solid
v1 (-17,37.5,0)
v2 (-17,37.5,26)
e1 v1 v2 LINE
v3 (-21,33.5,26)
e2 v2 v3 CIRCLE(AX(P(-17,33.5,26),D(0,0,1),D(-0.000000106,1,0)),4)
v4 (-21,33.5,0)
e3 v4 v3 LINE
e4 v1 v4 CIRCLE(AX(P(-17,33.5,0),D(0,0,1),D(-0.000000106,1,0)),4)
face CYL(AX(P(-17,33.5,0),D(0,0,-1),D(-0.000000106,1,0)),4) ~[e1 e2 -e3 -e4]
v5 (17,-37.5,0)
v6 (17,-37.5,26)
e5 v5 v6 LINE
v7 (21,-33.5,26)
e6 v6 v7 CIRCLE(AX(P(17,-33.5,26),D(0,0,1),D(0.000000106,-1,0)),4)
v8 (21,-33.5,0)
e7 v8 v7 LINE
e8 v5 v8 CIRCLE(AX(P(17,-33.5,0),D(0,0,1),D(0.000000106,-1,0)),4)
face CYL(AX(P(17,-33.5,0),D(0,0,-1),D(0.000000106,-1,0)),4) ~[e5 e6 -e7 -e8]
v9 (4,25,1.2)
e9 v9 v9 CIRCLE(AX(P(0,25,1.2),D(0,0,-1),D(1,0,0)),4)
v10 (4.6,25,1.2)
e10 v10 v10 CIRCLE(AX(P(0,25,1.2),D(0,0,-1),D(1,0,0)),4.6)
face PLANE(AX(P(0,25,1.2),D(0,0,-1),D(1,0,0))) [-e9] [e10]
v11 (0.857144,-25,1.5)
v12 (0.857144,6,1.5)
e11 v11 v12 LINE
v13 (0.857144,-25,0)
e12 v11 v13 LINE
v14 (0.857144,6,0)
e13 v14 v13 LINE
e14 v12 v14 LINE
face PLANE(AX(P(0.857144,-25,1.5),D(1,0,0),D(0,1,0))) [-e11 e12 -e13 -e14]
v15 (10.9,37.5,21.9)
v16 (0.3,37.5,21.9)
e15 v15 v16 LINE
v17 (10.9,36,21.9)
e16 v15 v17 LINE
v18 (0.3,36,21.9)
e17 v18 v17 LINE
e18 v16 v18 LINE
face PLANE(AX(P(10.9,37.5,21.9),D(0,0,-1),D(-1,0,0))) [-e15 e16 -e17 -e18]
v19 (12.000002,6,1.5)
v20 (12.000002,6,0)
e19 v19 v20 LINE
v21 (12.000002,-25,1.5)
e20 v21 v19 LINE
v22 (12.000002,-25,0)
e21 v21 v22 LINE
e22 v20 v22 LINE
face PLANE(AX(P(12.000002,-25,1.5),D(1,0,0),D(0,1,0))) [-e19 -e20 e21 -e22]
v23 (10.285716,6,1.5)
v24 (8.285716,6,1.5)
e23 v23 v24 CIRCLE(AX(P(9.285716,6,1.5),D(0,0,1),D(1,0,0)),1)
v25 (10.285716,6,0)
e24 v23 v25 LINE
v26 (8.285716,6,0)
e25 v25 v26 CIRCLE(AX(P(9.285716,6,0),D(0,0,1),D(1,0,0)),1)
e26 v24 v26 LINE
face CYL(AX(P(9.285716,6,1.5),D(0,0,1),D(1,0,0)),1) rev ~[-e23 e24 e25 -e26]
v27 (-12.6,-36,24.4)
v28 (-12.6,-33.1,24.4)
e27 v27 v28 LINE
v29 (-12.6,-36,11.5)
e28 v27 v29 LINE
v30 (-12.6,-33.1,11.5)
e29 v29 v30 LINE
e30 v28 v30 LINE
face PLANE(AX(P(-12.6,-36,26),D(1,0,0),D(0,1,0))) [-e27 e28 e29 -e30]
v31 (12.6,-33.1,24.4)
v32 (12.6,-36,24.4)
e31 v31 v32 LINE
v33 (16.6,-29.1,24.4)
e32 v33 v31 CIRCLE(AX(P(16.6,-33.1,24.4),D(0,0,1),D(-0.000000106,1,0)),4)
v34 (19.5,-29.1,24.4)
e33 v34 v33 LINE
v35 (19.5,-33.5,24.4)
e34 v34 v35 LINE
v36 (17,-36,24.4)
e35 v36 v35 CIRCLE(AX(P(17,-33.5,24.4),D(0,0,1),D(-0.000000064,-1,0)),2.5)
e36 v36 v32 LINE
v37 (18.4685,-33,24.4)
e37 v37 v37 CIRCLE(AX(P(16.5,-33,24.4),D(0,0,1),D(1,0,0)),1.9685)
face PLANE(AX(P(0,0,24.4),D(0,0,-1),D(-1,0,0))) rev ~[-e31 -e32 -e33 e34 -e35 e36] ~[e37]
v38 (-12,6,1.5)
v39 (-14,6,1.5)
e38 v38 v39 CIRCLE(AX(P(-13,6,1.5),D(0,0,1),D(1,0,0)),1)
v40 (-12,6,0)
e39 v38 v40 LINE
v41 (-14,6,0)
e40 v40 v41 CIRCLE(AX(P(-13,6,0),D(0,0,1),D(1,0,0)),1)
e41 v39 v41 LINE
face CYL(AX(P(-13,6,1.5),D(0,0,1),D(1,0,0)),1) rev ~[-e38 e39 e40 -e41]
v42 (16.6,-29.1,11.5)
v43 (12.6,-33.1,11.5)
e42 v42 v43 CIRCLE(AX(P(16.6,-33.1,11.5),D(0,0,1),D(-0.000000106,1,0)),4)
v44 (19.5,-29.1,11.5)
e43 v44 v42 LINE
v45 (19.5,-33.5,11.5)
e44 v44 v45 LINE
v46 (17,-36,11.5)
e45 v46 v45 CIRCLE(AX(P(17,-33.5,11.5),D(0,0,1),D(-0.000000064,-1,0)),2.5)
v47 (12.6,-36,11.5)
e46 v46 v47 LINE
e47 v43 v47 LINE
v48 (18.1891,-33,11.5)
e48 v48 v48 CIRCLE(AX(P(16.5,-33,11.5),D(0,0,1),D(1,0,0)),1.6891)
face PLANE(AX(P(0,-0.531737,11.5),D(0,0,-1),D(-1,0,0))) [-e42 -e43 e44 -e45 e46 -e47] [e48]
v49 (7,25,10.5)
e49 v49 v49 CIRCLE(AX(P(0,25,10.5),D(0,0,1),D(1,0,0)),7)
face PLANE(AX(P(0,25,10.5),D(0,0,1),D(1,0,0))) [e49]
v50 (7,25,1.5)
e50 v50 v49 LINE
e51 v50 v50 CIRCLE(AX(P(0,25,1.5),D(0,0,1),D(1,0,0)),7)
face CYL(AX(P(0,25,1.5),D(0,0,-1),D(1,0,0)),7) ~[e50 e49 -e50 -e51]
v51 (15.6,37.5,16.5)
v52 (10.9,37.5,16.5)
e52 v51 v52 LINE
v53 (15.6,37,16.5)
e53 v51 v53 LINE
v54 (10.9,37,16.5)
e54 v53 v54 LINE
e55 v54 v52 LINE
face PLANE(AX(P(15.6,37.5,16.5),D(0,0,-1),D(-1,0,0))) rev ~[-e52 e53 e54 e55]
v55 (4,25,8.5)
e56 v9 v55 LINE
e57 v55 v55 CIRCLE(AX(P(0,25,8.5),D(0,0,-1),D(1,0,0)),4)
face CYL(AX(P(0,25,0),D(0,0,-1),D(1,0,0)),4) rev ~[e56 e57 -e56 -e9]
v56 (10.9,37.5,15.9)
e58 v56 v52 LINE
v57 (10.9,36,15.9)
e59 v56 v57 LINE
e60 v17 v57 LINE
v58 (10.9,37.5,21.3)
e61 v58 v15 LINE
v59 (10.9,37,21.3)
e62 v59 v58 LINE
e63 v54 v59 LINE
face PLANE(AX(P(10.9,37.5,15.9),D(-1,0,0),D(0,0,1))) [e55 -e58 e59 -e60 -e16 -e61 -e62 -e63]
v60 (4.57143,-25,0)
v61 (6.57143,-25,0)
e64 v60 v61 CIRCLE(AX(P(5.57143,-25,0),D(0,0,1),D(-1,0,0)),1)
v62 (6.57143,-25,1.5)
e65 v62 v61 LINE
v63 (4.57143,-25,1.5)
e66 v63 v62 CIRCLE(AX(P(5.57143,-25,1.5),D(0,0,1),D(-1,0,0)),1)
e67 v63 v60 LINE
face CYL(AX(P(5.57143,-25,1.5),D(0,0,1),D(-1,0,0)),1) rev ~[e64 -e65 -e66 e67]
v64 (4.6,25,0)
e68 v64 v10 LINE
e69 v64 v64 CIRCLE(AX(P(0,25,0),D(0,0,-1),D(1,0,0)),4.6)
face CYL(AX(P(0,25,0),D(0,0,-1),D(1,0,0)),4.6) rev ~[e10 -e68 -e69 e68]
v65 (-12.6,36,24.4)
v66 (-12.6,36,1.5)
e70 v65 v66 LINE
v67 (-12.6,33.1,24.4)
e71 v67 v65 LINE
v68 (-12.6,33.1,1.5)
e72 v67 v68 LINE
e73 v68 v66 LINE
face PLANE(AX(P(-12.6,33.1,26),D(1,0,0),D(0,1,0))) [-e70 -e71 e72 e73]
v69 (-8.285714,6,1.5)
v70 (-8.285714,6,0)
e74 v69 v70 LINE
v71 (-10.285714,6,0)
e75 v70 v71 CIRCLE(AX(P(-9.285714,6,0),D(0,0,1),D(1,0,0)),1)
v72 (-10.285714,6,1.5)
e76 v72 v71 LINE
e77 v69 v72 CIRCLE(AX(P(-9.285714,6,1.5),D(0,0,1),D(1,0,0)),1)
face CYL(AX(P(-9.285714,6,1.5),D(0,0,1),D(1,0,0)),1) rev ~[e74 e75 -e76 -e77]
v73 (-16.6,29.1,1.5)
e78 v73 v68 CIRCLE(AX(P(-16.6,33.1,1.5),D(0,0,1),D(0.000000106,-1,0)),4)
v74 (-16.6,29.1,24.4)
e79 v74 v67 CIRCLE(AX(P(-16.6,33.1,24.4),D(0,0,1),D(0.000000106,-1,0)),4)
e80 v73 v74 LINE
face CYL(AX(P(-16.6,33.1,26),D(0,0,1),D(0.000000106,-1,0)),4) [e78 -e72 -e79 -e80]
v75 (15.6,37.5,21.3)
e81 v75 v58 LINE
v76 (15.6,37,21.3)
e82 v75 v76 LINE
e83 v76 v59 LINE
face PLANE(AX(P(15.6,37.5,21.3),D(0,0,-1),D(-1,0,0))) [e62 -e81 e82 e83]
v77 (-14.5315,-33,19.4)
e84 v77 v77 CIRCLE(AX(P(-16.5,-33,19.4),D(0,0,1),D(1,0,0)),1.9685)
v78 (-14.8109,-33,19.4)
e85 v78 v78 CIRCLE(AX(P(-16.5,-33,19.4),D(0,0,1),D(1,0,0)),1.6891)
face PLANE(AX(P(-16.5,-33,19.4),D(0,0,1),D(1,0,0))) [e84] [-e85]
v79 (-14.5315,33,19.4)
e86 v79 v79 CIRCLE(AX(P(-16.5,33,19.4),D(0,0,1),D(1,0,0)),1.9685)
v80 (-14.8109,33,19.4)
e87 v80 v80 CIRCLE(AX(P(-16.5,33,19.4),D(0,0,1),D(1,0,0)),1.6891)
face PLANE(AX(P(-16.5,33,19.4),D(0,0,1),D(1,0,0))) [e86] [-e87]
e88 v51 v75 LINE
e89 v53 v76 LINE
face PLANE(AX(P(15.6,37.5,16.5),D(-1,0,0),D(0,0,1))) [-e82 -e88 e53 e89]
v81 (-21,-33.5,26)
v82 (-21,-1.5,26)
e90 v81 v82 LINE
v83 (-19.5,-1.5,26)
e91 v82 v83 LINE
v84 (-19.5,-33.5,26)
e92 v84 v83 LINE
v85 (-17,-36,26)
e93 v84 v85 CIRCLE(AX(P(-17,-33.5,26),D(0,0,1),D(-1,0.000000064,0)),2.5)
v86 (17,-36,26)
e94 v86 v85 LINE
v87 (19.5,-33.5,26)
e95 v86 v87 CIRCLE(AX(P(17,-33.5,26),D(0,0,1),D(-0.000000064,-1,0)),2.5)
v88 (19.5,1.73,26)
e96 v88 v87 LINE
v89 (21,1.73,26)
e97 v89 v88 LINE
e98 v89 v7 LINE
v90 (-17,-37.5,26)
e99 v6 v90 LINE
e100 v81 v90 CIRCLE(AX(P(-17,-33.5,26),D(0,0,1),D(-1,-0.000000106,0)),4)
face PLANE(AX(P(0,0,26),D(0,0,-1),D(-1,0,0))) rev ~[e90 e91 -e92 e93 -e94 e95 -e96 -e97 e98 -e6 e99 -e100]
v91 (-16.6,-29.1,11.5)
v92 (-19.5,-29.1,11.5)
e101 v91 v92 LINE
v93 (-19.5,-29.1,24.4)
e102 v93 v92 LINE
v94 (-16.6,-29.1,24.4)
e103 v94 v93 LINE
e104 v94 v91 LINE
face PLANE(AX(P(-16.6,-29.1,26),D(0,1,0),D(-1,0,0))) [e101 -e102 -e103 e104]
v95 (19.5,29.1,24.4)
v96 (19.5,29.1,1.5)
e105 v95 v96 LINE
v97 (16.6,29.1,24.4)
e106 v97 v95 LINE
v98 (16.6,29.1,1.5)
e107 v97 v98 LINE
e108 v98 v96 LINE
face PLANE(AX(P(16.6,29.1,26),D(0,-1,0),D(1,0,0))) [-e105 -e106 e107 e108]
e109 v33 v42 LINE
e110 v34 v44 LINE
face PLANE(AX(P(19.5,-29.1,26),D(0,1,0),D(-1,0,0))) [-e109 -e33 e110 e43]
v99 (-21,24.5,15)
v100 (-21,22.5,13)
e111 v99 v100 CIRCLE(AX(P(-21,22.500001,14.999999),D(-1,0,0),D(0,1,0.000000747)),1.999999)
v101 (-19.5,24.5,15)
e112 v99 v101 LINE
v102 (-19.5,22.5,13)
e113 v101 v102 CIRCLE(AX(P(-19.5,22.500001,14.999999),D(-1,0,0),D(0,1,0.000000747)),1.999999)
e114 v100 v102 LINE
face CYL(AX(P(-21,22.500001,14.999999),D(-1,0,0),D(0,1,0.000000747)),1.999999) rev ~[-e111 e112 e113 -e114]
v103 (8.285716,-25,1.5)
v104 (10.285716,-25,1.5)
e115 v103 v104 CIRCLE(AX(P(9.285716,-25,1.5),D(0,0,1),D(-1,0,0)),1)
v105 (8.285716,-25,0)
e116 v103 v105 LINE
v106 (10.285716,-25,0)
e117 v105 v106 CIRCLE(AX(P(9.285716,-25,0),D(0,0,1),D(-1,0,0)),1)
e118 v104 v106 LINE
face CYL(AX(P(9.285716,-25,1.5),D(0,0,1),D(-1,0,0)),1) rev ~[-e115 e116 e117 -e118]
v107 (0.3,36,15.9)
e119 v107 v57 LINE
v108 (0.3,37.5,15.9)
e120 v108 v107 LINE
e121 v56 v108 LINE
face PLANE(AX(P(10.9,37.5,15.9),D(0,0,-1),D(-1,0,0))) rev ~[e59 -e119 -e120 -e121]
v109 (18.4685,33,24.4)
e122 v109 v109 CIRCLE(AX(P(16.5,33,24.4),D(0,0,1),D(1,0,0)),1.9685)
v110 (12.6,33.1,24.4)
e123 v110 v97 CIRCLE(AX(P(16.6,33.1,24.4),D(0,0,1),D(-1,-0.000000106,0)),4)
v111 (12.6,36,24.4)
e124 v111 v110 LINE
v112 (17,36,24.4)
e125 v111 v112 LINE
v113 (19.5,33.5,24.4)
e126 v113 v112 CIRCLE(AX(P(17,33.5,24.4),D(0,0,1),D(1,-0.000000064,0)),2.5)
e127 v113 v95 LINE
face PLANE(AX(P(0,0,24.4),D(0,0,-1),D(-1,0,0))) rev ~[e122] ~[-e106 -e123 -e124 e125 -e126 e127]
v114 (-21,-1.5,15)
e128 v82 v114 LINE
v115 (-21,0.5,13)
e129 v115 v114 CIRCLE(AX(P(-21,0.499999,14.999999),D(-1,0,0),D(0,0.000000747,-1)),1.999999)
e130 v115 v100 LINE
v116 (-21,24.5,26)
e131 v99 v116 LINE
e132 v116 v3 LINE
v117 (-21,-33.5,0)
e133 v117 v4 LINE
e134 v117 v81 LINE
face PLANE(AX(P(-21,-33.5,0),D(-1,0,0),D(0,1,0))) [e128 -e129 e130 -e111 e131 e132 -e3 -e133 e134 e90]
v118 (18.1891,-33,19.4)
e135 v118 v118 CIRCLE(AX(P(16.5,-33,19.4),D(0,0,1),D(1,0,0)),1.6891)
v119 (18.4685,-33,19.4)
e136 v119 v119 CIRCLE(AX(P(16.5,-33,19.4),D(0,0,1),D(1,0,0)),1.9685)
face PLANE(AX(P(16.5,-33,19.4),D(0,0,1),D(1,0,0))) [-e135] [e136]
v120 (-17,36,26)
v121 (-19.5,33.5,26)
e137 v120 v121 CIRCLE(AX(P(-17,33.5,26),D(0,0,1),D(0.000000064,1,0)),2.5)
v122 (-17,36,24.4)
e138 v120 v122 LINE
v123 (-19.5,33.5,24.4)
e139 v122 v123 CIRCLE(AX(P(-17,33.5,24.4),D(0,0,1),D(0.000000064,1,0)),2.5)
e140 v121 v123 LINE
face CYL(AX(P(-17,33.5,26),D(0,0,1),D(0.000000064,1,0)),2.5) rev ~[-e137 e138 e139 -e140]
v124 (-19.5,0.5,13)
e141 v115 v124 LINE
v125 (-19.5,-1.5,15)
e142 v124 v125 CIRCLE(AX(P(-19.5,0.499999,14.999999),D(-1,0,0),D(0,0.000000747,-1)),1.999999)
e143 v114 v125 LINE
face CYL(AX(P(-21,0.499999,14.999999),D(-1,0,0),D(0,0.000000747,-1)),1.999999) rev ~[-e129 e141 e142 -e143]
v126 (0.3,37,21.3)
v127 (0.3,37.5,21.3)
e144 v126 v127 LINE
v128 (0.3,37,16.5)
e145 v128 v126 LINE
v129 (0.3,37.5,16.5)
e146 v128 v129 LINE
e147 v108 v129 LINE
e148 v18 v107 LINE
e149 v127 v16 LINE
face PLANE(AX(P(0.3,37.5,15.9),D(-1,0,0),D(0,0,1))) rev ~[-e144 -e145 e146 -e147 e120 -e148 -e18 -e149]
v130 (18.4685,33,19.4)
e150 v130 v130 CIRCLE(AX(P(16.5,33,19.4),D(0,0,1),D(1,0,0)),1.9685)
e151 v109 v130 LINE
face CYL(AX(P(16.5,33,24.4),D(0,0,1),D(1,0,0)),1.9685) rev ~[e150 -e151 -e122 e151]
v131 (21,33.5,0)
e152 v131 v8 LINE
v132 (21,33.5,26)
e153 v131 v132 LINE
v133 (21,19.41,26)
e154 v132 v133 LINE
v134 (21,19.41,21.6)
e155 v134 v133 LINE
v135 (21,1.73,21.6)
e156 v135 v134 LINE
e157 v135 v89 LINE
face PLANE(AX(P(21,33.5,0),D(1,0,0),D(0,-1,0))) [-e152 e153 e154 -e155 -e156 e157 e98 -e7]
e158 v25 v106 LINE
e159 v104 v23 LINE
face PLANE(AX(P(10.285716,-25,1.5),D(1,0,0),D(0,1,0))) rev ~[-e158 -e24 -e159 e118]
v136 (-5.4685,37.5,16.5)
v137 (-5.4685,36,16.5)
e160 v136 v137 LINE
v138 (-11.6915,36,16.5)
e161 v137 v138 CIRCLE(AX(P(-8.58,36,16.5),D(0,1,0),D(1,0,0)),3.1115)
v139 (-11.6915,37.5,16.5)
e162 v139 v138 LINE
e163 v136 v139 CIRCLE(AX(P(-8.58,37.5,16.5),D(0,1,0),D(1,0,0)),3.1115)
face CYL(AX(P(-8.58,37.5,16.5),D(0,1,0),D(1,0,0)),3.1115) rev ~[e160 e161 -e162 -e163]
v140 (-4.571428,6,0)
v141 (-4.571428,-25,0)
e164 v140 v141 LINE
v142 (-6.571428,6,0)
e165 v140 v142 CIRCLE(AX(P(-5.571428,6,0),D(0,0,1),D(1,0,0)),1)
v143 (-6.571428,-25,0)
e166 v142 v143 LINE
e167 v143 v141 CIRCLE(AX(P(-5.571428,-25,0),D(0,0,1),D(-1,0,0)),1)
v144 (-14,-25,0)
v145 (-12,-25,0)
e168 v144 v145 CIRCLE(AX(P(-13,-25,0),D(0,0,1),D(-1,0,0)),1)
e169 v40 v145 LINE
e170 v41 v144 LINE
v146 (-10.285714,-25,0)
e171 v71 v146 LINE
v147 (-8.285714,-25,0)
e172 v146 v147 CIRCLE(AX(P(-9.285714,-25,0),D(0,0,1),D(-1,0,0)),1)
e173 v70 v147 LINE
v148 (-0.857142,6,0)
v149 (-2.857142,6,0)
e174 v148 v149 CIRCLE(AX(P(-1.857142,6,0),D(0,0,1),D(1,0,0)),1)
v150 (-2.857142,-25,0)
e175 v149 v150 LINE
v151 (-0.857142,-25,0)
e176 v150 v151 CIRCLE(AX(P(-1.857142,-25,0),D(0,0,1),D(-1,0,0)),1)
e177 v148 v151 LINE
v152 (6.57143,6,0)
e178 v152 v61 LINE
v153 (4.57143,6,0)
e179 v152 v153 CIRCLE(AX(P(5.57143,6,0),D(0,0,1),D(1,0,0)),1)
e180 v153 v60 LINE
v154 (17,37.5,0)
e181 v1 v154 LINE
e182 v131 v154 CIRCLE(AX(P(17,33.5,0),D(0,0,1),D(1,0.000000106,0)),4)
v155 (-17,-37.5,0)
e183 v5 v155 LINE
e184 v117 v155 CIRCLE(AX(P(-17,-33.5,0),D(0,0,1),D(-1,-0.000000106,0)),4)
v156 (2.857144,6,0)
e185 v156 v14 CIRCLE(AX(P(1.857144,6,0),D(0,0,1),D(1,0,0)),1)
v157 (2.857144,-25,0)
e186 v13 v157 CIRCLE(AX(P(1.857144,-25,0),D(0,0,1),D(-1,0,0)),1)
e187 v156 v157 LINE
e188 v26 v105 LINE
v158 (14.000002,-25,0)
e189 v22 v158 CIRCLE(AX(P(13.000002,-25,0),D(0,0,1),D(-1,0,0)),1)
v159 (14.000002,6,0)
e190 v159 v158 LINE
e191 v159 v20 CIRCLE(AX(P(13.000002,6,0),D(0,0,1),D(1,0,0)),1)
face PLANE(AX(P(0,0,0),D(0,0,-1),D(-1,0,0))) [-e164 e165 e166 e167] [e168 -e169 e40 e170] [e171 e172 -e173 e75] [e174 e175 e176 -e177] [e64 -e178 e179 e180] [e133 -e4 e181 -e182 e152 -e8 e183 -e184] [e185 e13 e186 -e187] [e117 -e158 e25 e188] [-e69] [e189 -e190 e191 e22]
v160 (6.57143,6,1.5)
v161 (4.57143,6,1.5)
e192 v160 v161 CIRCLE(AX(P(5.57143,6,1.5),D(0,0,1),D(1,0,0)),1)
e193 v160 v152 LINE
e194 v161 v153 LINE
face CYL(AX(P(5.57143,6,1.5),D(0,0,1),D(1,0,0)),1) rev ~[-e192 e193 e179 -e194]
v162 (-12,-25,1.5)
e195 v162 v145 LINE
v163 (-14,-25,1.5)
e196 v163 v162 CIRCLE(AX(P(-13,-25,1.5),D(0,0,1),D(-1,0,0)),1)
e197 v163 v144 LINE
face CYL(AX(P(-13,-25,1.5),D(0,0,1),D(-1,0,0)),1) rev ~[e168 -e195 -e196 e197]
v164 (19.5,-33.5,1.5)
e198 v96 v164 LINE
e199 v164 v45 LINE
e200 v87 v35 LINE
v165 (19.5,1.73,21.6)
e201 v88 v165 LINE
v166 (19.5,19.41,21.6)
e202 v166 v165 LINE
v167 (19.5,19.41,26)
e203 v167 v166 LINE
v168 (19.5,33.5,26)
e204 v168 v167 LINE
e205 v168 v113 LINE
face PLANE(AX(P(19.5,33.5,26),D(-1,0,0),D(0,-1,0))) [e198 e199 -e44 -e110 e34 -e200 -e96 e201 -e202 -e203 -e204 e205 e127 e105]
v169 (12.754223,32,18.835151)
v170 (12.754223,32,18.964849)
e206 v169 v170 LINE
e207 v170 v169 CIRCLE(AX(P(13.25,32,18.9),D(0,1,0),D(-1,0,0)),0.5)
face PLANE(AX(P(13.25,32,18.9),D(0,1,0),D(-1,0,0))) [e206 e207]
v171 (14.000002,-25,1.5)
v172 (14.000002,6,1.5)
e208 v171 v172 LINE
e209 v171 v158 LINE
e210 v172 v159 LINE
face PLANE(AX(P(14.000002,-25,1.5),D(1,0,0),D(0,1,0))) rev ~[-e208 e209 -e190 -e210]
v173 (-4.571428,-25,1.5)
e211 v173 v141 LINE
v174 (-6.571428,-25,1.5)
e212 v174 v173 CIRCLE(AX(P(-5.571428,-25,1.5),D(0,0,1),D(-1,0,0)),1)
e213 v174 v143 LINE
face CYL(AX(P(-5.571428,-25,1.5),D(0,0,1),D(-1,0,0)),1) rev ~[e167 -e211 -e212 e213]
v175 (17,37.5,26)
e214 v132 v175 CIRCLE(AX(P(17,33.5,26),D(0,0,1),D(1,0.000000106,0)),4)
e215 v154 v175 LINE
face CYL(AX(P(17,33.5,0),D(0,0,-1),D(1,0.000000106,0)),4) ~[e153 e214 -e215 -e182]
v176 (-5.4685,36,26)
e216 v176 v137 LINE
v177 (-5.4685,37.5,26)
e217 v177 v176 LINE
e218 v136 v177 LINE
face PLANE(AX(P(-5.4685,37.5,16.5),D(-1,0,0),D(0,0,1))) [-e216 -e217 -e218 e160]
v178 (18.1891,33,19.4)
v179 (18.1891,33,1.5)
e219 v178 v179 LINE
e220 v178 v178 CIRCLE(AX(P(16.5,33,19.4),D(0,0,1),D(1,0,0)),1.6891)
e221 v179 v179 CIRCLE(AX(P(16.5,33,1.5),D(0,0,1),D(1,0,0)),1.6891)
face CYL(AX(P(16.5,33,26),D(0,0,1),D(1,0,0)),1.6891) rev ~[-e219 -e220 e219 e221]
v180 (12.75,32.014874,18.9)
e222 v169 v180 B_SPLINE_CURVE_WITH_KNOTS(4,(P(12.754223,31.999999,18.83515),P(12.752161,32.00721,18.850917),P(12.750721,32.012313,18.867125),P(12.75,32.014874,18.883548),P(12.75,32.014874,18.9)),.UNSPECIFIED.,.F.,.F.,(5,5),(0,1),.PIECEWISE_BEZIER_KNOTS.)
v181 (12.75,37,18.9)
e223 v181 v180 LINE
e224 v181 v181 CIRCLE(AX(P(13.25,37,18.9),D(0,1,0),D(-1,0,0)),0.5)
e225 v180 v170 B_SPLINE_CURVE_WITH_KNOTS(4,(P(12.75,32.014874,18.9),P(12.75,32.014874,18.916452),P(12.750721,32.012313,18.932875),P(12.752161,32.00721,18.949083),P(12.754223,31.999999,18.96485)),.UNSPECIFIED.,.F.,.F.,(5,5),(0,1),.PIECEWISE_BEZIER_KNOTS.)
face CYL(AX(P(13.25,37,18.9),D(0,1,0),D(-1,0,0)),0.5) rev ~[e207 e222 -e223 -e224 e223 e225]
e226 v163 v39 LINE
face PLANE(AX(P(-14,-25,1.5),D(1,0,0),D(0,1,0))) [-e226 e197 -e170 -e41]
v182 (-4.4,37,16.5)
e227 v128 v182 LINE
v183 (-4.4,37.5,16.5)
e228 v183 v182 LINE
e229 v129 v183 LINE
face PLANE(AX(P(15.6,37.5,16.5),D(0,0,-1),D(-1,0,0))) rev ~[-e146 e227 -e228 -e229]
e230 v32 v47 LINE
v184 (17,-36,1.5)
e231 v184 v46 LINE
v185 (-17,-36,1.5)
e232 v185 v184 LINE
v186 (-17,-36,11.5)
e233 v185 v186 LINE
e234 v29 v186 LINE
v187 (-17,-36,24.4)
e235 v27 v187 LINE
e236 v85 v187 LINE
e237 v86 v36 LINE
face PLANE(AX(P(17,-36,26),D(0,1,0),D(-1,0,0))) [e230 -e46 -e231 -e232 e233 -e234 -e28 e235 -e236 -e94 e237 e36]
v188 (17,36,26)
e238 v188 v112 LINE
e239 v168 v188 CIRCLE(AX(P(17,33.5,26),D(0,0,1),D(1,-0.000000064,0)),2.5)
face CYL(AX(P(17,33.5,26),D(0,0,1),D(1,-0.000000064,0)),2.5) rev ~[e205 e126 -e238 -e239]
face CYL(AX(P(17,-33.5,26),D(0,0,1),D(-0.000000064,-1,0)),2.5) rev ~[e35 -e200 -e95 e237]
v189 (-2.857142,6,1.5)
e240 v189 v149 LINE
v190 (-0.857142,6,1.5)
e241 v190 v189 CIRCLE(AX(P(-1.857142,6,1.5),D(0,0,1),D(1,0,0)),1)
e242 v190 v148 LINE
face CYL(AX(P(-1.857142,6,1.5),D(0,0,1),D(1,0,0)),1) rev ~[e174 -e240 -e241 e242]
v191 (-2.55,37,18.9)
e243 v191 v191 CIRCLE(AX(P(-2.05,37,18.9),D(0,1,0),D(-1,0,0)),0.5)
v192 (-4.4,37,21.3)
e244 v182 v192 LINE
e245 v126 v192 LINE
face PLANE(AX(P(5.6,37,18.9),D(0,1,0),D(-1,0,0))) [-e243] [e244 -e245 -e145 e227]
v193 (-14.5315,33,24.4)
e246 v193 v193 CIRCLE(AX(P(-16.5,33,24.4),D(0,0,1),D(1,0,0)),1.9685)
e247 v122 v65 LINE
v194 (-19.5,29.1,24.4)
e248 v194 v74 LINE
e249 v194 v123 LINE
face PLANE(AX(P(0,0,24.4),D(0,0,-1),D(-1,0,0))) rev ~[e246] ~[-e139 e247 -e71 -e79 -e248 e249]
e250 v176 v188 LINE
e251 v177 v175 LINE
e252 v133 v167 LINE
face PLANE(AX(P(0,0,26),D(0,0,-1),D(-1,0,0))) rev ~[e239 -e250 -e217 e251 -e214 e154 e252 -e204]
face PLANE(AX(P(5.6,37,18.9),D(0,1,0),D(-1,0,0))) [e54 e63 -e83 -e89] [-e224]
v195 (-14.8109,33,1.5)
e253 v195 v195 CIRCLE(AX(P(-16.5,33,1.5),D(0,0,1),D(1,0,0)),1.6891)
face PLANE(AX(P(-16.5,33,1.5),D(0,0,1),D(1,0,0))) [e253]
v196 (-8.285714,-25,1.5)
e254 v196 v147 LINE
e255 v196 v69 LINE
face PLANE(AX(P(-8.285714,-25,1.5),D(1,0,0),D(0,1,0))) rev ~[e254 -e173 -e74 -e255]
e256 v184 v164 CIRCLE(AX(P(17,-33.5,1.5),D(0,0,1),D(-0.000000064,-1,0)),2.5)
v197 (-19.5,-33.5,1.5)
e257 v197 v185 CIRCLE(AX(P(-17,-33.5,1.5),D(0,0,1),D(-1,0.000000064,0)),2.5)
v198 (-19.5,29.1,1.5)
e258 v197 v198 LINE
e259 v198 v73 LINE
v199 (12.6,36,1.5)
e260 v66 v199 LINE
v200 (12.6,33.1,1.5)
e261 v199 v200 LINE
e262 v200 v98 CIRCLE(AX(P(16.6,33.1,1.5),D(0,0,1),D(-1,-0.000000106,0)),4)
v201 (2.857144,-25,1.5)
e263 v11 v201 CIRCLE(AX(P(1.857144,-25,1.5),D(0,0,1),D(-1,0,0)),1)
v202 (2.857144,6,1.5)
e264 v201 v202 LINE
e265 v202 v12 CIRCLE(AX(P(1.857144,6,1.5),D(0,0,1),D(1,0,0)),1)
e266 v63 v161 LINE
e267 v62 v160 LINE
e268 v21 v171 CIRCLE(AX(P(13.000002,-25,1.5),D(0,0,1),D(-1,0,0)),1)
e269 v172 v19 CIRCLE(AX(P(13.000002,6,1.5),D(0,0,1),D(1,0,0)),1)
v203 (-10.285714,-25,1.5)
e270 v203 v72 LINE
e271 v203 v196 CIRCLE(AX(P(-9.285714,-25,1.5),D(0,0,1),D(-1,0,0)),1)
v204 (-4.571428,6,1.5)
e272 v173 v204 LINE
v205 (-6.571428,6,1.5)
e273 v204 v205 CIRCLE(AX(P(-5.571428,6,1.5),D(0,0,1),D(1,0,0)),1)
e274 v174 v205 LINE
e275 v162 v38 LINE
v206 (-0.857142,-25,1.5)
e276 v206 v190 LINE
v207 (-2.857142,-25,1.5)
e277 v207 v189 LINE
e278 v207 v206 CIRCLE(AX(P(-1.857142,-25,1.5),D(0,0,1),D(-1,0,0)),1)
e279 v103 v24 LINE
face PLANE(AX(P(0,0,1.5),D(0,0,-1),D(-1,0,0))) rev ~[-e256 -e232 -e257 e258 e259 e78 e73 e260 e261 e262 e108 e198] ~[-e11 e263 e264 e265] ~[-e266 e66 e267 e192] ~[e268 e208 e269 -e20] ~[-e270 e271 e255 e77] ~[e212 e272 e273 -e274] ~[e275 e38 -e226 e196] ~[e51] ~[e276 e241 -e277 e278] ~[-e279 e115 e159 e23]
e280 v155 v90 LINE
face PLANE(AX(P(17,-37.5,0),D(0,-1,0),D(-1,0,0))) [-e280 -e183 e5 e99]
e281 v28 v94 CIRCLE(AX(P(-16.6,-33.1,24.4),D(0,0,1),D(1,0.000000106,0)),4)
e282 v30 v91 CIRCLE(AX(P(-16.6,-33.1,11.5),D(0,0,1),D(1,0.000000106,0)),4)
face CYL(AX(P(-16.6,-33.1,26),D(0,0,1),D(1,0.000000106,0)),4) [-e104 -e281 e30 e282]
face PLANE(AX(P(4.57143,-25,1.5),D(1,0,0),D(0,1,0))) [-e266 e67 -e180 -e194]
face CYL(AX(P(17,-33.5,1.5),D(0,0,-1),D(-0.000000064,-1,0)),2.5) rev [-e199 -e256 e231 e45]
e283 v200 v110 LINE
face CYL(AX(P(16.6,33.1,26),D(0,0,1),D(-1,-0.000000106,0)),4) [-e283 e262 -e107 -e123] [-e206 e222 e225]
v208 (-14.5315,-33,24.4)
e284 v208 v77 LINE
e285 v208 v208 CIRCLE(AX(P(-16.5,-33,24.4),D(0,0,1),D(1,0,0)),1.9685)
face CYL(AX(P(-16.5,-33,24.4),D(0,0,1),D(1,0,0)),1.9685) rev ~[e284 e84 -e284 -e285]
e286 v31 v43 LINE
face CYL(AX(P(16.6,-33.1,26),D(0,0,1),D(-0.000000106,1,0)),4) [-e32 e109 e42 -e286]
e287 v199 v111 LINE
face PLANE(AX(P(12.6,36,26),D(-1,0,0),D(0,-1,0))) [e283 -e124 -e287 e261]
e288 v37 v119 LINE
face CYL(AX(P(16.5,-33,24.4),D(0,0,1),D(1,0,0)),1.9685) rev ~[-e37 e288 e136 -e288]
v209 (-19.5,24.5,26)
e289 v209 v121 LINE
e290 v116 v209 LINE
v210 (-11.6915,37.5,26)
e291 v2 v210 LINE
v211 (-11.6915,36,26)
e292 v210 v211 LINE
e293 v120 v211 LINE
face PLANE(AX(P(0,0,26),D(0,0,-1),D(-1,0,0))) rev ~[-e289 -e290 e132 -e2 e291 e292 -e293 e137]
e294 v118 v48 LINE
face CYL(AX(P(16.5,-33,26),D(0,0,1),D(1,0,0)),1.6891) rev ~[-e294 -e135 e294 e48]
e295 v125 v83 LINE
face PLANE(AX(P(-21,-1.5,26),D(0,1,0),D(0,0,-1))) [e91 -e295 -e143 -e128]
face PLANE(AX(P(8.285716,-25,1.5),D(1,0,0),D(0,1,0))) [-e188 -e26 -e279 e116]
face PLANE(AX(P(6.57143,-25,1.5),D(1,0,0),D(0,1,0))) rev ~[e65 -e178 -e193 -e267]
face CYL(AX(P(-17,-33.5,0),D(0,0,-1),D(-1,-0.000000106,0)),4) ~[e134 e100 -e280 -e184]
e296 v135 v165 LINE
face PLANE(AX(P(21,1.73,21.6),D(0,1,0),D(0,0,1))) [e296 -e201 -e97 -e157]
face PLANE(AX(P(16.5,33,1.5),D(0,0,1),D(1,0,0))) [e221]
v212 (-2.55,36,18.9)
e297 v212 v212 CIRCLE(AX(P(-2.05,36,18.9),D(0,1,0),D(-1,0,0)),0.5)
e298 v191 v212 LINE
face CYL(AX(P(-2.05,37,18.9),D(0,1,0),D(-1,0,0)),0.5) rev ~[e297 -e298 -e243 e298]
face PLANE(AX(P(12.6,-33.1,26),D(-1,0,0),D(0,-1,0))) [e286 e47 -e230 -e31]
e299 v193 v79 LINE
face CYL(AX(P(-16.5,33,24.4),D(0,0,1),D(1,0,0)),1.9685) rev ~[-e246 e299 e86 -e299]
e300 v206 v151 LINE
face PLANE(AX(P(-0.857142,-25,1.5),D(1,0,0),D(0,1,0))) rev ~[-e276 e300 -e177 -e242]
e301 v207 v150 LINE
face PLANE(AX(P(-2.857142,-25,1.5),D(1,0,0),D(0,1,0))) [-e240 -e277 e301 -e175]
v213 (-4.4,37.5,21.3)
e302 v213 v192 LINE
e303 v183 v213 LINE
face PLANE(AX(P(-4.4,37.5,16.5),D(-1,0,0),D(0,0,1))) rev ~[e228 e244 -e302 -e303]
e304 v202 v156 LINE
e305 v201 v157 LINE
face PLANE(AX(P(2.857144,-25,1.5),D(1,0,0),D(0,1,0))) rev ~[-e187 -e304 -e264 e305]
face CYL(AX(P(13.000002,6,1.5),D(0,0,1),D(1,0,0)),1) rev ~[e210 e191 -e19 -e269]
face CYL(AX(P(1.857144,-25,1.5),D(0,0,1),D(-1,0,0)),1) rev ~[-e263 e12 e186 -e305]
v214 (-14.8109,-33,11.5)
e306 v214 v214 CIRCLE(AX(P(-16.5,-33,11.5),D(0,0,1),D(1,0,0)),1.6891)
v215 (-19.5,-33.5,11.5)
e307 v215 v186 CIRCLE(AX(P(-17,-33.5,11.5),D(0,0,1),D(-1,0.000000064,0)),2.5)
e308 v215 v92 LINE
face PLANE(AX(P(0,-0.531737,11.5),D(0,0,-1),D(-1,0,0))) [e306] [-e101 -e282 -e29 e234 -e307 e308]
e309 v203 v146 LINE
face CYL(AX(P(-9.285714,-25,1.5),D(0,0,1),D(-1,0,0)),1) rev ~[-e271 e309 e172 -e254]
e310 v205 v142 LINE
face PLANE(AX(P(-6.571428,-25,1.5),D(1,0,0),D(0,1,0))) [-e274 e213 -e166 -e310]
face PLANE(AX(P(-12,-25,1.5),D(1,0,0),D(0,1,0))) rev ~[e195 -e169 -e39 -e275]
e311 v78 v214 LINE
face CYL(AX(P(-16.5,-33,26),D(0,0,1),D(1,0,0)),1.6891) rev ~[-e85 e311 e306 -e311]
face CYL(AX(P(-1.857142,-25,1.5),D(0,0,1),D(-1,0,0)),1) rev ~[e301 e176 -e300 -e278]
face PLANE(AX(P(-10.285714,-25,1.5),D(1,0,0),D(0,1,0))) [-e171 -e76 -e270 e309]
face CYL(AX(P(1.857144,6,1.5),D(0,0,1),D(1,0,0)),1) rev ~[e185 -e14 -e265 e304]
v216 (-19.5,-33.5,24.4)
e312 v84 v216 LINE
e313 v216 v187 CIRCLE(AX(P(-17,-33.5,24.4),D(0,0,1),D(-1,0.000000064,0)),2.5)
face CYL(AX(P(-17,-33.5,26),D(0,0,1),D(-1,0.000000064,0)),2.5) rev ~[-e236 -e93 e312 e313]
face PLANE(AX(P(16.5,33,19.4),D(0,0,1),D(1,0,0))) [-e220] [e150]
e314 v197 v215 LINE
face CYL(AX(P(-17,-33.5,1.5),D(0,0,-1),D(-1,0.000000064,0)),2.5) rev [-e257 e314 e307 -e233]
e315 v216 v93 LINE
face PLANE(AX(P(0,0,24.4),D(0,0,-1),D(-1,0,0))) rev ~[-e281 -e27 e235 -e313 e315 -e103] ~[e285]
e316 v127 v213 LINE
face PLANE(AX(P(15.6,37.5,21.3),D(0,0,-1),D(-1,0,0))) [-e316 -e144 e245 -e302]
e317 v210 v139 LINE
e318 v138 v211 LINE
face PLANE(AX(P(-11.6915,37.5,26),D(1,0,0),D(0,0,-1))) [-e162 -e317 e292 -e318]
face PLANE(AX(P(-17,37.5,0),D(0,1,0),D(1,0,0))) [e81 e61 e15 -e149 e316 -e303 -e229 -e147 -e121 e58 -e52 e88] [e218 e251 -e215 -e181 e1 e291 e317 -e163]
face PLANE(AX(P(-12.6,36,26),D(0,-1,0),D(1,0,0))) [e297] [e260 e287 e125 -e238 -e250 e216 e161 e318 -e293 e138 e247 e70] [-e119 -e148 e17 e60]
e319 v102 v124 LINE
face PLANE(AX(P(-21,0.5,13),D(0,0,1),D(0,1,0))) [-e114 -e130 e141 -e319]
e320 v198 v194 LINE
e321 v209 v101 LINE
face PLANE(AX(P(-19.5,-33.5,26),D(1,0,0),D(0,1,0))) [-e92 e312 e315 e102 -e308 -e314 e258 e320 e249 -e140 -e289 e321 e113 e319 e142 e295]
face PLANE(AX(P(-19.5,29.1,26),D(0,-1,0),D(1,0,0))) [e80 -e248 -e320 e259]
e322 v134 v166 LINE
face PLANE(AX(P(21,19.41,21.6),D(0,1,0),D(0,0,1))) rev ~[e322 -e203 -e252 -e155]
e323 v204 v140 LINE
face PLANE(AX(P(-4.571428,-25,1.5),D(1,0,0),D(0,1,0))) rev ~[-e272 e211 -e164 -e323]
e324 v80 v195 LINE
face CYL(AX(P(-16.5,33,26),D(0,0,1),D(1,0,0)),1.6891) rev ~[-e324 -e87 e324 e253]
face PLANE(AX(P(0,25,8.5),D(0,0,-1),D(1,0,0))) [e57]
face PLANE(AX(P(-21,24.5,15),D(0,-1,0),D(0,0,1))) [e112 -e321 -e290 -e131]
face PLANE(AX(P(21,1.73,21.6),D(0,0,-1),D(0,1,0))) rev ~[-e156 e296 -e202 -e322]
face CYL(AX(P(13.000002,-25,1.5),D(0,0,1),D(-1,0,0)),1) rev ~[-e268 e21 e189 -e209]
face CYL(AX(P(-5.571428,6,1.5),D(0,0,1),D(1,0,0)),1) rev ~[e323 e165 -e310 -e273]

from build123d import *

# Parameters (mm, degrees)
PAD_DEPTH           = 26
SKETCH001_R         = 1.6891
POCKET_DEPTH        = 24.5
POCKET001_DEPTH     = 1.6
POCKET002_DEPTH     = 5
POCKET004_DEPTH     = 10
LINEARPATTERN_COUNT = 8
LINEARPATTERN_PITCH = 3.714286
SKETCH009_W         = 20
SKETCH009_H         = 4.8
POCKET007_DEPTH     = 0.5
SKETCH004_W         = 17.68
SKETCH004_H         = 4.4
POCKET015_DEPTH     = 5
SKETCH013_W         = 10.6
SKETCH013_H         = 6
POCKET016_DEPTH     = 5
SKETCH014_R         = 0.5
POCKET017_DEPTH     = 5
SKETCH015_R         = 1.9685
POCKET018_DEPTH     = 5
POCKET019_DEPTH     = 5
POCKET020_DEPTH     = 10
SKETCH021_R         = 7
PAD001_DEPTH        = 9
SKETCH019_R         = 4.6
POCKET021_DEPTH     = 1.2
SKETCH018_R         = 4
POCKET022_DEPTH     = 8.5


with BuildPart() as part:
    # Sketch → Pad (new body)
    with BuildSketch(Plane.XY):
        with BuildLine():
            Line((-17, 37.5), (17, 37.5))
            ThreePointArc((21, 33.5), (19.828427, 36.328427), (17, 37.5))
            Line((21, 33.5), (21, -33.5))
            ThreePointArc((17, -37.5), (19.828427, -36.328427), (21, -33.5))
            Line((17, -37.5), (-17, -37.5))
            ThreePointArc((-21, -33.5), (-19.828427, -36.328427), (-17, -37.5))
            Line((-21, -33.5), (-21, 33.5))
            ThreePointArc((-17, 37.5), (-19.828427, 36.328427), (-21, 33.5))
        make_face()
    extrude(amount=PAD_DEPTH)

    # Sketch001 (on Face10 of Pad) → Pocket (cut)
    with BuildSketch(Plane.XY.offset(26)):
        with Locations((-16.5, -33)):
            Circle(SKETCH001_R)
        with Locations((16.5, -33)):
            Circle(SKETCH001_R)
        with Locations((16.5, 33)):
            Circle(SKETCH001_R)
        with Locations((-16.5, 33)):
            Circle(SKETCH001_R)
        with BuildLine():
            Line((-12.6, 36), (12.6, 36))
            Line((12.6, 36), (12.6, 33.1))
            ThreePointArc((12.6, 33.1), (13.771573, 30.271573), (16.6, 29.1))
            Line((16.6, 29.1), (19.5, 29.1))
            Line((19.5, 29.1), (19.5, -29.1))
            Line((19.5, -29.1), (16.6, -29.1))
            ThreePointArc((16.6, -29.1), (13.771573, -30.271573), (12.6, -33.1))
            Line((12.6, -33.1), (12.6, -36))
            Line((12.6, -36), (-12.6, -36))
            Line((-12.6, -36), (-12.6, -33.1))
            ThreePointArc((-12.6, -33.1), (-13.771573, -30.271573), (-16.6, -29.1))
            Line((-16.6, -29.1), (-19.5, -29.1))
            Line((-19.5, -29.1), (-19.5, 29.1))
            Line((-19.5, 29.1), (-16.6, 29.1))
            ThreePointArc((-16.6, 29.1), (-13.771573, 30.271573), (-12.6, 33.1))
            Line((-12.6, 33.1), (-12.6, 36))
        make_face()
    extrude(amount=-POCKET_DEPTH, mode=Mode.SUBTRACT)

    # Sketch002 (on Face5 of Pocket) → Pocket001 (cut)
    with BuildSketch(Plane.XY.offset(26)):
        with BuildLine():
            Line((-17, 36), (17, 36))
            ThreePointArc((19.5, 33.5), (18.767767, 35.267767), (17, 36))
            Line((19.5, 33.5), (19.5, -33.5))
            ThreePointArc((17, -36), (18.767767, -35.267767), (19.5, -33.5))
            Line((17, -36), (-17, -36))
            ThreePointArc((-19.5, -33.5), (-18.767767, -35.267767), (-17, -36))
            Line((-19.5, -33.5), (-19.5, 33.5))
            ThreePointArc((-17, 36), (-18.767767, 35.267767), (-19.5, 33.5))
        make_face()
    extrude(amount=-POCKET001_DEPTH, mode=Mode.SUBTRACT)

    # Sketch003 (on Face7 of Pocket001) → Pocket002 (cut)
    with BuildSketch(Plane(origin=(0, 37.5, 0), x_dir=(-1, 0, 0), z_dir=(0, 1, 0))):
        with BuildLine():
            Line((5.4685, 16.5), (5.4685, 26))
            Line((5.4685, 26), (11.6915, 26))
            Line((11.6915, 26), (11.6915, 16.5))
            ThreePointArc((5.4685, 16.5), (8.58, 13.3885), (11.6915, 16.5))
        make_face()
    extrude(amount=-POCKET002_DEPTH, mode=Mode.SUBTRACT)

    # Sketch005 → Pocket004 (cut)
    with BuildSketch(Plane.XY.offset(1.5)):
        with BuildLine():
            ThreePointArc((-14, -25), (-13, -26), (-12, -25))
            Line((-12, -25), (-12, 6))
            ThreePointArc((-12, 6), (-13, 7), (-14, 6))
            Line((-14, -25), (-14, 6))
        make_face()
    pocket004 = extrude(amount=-POCKET004_DEPTH, mode=Mode.SUBTRACT)

    # LinearPattern: Pocket004 ×8
    with Locations(*[(i * LINEARPATTERN_PITCH, 0, 0) for i in range(1, LINEARPATTERN_COUNT)]):
        add(pocket004, mode=Mode.SUBTRACT)

    # Sketch009 → Pocket007 (cut)
    with BuildSketch(Plane(origin=(0, 37.5, 0), x_dir=(-1, 0, 0), z_dir=(0, 1, 0))):
        with Locations((-5.6, 18.9)):
            Rectangle(SKETCH009_W, SKETCH009_H)
    extrude(amount=-POCKET007_DEPTH, mode=Mode.SUBTRACT)

    # Sketch004 → Pocket015 (cut)
    with BuildSketch(Plane.YZ.offset(21)):
        with Locations((10.57, 23.8)):
            Rectangle(SKETCH004_W, SKETCH004_H)
    extrude(amount=-POCKET015_DEPTH, mode=Mode.SUBTRACT)

    # Sketch013 (on Face7 of Pocket007) → Pocket016 (cut)
    with BuildSketch(Plane(origin=(0, 37.5, 0), x_dir=(-1, 0, 0), z_dir=(0, 1, 0))):
        with Locations((-5.6, 18.9)):
            Rectangle(SKETCH013_W, SKETCH013_H)
    extrude(amount=-POCKET016_DEPTH, mode=Mode.SUBTRACT)

    # Sketch014 (on Face87 of Pocket016) → Pocket017 (cut)
    with BuildSketch(Plane(origin=(0, 37, 0), x_dir=(-1, 0, 0), z_dir=(0, 1, 0))):
        with Locations((-13.25, 18.9)):
            Circle(SKETCH014_R)
        with Locations((2.05, 18.9)):
            Circle(SKETCH014_R)
    extrude(amount=-POCKET017_DEPTH, mode=Mode.SUBTRACT)

    # Sketch015 (on Face104 of Pocket017) → Pocket018 (cut)
    with BuildSketch(Plane.XY.offset(24.4)):
        with Locations((-16.5, 33)):
            Circle(SKETCH015_R)
        with Locations((-16.5, -33)):
            Circle(SKETCH015_R)
        with Locations((16.5, -33)):
            Circle(SKETCH015_R)
        with Locations((16.5, 33)):
            Circle(SKETCH015_R)
    extrude(amount=-POCKET018_DEPTH, mode=Mode.SUBTRACT)

    # Sketch016 (on Face1 of Pocket018) → Pocket019 (cut)
    with BuildSketch(Plane(origin=(-21, 0, 0), x_dir=(0, -1, 0), z_dir=(-1, 0, 0))):
        with BuildLine():
            Line((-24.5, 26), (1.5, 26))
            Line((1.5, 26), (1.5, 15))
            ThreePointArc((-0.5, 13), (0.914214, 13.585786), (1.5, 15))
            Line((-0.5, 13), (-22.5, 13))
            ThreePointArc((-24.5, 15), (-23.914214, 13.585786), (-22.5, 13))
            Line((-24.5, 15), (-24.5, 26))
        make_face()
    extrude(amount=-POCKET019_DEPTH, mode=Mode.SUBTRACT)

    # Sketch020 (on Face81 of Pocket019) → Pocket020 (cut)
    with BuildSketch(Plane.XY.offset(1.5)):
        with BuildLine():
            Line((-19.5, 29.1), (-16.6, 29.1))
            ThreePointArc((-16.6, 29.1), (-13.771573, 30.271573), (-12.6, 33.1))
            Line((-12.6, 33.1), (-12.6, 36))
            Line((-12.6, 36), (12.6, 36))
            Line((12.6, 36), (12.6, 33.1))
            ThreePointArc((12.6, 33.1), (13.771573, 30.271573), (16.6, 29.1))
            Line((16.6, 29.1), (19.5, 29.1))
            Line((19.5, 29.1), (19.5, -33.5))
            ThreePointArc((17, -36), (18.767767, -35.267767), (19.5, -33.5))
            Line((17, -36), (-17, -36))
            ThreePointArc((-19.5, -33.5), (-18.767767, -35.267767), (-17, -36))
            Line((-19.5, -33.5), (-19.5, 29.1))
        make_face()
    extrude(amount=POCKET020_DEPTH, mode=Mode.SUBTRACT)

    # Sketch021 (on Face81 of Pocket020) → Pad001 (join)
    with BuildSketch(Plane.XY.offset(1.5)):
        with Locations((0, 25)):
            Circle(SKETCH021_R)
    extrude(amount=PAD001_DEPTH)

    # Sketch019 (on Face2 of Pad001) → Pocket021 (cut)
    with BuildSketch(Plane(origin=(0, 0, 0), x_dir=(1, 0, 0), z_dir=(0, 0, -1))):
        with Locations((0, -25)):
            Circle(SKETCH019_R)
    extrude(amount=-POCKET021_DEPTH, mode=Mode.SUBTRACT)

    # Sketch018 (on Face2 of Pad001) → Pocket022 (cut)
    with BuildSketch(Plane(origin=(0, 0, 0), x_dir=(1, 0, 0), z_dir=(0, 0, -1))):
        with Locations((0, -25)):
            Circle(SKETCH018_R)
    extrude(amount=-POCKET022_DEPTH, mode=Mode.SUBTRACT)


solid = part.part
